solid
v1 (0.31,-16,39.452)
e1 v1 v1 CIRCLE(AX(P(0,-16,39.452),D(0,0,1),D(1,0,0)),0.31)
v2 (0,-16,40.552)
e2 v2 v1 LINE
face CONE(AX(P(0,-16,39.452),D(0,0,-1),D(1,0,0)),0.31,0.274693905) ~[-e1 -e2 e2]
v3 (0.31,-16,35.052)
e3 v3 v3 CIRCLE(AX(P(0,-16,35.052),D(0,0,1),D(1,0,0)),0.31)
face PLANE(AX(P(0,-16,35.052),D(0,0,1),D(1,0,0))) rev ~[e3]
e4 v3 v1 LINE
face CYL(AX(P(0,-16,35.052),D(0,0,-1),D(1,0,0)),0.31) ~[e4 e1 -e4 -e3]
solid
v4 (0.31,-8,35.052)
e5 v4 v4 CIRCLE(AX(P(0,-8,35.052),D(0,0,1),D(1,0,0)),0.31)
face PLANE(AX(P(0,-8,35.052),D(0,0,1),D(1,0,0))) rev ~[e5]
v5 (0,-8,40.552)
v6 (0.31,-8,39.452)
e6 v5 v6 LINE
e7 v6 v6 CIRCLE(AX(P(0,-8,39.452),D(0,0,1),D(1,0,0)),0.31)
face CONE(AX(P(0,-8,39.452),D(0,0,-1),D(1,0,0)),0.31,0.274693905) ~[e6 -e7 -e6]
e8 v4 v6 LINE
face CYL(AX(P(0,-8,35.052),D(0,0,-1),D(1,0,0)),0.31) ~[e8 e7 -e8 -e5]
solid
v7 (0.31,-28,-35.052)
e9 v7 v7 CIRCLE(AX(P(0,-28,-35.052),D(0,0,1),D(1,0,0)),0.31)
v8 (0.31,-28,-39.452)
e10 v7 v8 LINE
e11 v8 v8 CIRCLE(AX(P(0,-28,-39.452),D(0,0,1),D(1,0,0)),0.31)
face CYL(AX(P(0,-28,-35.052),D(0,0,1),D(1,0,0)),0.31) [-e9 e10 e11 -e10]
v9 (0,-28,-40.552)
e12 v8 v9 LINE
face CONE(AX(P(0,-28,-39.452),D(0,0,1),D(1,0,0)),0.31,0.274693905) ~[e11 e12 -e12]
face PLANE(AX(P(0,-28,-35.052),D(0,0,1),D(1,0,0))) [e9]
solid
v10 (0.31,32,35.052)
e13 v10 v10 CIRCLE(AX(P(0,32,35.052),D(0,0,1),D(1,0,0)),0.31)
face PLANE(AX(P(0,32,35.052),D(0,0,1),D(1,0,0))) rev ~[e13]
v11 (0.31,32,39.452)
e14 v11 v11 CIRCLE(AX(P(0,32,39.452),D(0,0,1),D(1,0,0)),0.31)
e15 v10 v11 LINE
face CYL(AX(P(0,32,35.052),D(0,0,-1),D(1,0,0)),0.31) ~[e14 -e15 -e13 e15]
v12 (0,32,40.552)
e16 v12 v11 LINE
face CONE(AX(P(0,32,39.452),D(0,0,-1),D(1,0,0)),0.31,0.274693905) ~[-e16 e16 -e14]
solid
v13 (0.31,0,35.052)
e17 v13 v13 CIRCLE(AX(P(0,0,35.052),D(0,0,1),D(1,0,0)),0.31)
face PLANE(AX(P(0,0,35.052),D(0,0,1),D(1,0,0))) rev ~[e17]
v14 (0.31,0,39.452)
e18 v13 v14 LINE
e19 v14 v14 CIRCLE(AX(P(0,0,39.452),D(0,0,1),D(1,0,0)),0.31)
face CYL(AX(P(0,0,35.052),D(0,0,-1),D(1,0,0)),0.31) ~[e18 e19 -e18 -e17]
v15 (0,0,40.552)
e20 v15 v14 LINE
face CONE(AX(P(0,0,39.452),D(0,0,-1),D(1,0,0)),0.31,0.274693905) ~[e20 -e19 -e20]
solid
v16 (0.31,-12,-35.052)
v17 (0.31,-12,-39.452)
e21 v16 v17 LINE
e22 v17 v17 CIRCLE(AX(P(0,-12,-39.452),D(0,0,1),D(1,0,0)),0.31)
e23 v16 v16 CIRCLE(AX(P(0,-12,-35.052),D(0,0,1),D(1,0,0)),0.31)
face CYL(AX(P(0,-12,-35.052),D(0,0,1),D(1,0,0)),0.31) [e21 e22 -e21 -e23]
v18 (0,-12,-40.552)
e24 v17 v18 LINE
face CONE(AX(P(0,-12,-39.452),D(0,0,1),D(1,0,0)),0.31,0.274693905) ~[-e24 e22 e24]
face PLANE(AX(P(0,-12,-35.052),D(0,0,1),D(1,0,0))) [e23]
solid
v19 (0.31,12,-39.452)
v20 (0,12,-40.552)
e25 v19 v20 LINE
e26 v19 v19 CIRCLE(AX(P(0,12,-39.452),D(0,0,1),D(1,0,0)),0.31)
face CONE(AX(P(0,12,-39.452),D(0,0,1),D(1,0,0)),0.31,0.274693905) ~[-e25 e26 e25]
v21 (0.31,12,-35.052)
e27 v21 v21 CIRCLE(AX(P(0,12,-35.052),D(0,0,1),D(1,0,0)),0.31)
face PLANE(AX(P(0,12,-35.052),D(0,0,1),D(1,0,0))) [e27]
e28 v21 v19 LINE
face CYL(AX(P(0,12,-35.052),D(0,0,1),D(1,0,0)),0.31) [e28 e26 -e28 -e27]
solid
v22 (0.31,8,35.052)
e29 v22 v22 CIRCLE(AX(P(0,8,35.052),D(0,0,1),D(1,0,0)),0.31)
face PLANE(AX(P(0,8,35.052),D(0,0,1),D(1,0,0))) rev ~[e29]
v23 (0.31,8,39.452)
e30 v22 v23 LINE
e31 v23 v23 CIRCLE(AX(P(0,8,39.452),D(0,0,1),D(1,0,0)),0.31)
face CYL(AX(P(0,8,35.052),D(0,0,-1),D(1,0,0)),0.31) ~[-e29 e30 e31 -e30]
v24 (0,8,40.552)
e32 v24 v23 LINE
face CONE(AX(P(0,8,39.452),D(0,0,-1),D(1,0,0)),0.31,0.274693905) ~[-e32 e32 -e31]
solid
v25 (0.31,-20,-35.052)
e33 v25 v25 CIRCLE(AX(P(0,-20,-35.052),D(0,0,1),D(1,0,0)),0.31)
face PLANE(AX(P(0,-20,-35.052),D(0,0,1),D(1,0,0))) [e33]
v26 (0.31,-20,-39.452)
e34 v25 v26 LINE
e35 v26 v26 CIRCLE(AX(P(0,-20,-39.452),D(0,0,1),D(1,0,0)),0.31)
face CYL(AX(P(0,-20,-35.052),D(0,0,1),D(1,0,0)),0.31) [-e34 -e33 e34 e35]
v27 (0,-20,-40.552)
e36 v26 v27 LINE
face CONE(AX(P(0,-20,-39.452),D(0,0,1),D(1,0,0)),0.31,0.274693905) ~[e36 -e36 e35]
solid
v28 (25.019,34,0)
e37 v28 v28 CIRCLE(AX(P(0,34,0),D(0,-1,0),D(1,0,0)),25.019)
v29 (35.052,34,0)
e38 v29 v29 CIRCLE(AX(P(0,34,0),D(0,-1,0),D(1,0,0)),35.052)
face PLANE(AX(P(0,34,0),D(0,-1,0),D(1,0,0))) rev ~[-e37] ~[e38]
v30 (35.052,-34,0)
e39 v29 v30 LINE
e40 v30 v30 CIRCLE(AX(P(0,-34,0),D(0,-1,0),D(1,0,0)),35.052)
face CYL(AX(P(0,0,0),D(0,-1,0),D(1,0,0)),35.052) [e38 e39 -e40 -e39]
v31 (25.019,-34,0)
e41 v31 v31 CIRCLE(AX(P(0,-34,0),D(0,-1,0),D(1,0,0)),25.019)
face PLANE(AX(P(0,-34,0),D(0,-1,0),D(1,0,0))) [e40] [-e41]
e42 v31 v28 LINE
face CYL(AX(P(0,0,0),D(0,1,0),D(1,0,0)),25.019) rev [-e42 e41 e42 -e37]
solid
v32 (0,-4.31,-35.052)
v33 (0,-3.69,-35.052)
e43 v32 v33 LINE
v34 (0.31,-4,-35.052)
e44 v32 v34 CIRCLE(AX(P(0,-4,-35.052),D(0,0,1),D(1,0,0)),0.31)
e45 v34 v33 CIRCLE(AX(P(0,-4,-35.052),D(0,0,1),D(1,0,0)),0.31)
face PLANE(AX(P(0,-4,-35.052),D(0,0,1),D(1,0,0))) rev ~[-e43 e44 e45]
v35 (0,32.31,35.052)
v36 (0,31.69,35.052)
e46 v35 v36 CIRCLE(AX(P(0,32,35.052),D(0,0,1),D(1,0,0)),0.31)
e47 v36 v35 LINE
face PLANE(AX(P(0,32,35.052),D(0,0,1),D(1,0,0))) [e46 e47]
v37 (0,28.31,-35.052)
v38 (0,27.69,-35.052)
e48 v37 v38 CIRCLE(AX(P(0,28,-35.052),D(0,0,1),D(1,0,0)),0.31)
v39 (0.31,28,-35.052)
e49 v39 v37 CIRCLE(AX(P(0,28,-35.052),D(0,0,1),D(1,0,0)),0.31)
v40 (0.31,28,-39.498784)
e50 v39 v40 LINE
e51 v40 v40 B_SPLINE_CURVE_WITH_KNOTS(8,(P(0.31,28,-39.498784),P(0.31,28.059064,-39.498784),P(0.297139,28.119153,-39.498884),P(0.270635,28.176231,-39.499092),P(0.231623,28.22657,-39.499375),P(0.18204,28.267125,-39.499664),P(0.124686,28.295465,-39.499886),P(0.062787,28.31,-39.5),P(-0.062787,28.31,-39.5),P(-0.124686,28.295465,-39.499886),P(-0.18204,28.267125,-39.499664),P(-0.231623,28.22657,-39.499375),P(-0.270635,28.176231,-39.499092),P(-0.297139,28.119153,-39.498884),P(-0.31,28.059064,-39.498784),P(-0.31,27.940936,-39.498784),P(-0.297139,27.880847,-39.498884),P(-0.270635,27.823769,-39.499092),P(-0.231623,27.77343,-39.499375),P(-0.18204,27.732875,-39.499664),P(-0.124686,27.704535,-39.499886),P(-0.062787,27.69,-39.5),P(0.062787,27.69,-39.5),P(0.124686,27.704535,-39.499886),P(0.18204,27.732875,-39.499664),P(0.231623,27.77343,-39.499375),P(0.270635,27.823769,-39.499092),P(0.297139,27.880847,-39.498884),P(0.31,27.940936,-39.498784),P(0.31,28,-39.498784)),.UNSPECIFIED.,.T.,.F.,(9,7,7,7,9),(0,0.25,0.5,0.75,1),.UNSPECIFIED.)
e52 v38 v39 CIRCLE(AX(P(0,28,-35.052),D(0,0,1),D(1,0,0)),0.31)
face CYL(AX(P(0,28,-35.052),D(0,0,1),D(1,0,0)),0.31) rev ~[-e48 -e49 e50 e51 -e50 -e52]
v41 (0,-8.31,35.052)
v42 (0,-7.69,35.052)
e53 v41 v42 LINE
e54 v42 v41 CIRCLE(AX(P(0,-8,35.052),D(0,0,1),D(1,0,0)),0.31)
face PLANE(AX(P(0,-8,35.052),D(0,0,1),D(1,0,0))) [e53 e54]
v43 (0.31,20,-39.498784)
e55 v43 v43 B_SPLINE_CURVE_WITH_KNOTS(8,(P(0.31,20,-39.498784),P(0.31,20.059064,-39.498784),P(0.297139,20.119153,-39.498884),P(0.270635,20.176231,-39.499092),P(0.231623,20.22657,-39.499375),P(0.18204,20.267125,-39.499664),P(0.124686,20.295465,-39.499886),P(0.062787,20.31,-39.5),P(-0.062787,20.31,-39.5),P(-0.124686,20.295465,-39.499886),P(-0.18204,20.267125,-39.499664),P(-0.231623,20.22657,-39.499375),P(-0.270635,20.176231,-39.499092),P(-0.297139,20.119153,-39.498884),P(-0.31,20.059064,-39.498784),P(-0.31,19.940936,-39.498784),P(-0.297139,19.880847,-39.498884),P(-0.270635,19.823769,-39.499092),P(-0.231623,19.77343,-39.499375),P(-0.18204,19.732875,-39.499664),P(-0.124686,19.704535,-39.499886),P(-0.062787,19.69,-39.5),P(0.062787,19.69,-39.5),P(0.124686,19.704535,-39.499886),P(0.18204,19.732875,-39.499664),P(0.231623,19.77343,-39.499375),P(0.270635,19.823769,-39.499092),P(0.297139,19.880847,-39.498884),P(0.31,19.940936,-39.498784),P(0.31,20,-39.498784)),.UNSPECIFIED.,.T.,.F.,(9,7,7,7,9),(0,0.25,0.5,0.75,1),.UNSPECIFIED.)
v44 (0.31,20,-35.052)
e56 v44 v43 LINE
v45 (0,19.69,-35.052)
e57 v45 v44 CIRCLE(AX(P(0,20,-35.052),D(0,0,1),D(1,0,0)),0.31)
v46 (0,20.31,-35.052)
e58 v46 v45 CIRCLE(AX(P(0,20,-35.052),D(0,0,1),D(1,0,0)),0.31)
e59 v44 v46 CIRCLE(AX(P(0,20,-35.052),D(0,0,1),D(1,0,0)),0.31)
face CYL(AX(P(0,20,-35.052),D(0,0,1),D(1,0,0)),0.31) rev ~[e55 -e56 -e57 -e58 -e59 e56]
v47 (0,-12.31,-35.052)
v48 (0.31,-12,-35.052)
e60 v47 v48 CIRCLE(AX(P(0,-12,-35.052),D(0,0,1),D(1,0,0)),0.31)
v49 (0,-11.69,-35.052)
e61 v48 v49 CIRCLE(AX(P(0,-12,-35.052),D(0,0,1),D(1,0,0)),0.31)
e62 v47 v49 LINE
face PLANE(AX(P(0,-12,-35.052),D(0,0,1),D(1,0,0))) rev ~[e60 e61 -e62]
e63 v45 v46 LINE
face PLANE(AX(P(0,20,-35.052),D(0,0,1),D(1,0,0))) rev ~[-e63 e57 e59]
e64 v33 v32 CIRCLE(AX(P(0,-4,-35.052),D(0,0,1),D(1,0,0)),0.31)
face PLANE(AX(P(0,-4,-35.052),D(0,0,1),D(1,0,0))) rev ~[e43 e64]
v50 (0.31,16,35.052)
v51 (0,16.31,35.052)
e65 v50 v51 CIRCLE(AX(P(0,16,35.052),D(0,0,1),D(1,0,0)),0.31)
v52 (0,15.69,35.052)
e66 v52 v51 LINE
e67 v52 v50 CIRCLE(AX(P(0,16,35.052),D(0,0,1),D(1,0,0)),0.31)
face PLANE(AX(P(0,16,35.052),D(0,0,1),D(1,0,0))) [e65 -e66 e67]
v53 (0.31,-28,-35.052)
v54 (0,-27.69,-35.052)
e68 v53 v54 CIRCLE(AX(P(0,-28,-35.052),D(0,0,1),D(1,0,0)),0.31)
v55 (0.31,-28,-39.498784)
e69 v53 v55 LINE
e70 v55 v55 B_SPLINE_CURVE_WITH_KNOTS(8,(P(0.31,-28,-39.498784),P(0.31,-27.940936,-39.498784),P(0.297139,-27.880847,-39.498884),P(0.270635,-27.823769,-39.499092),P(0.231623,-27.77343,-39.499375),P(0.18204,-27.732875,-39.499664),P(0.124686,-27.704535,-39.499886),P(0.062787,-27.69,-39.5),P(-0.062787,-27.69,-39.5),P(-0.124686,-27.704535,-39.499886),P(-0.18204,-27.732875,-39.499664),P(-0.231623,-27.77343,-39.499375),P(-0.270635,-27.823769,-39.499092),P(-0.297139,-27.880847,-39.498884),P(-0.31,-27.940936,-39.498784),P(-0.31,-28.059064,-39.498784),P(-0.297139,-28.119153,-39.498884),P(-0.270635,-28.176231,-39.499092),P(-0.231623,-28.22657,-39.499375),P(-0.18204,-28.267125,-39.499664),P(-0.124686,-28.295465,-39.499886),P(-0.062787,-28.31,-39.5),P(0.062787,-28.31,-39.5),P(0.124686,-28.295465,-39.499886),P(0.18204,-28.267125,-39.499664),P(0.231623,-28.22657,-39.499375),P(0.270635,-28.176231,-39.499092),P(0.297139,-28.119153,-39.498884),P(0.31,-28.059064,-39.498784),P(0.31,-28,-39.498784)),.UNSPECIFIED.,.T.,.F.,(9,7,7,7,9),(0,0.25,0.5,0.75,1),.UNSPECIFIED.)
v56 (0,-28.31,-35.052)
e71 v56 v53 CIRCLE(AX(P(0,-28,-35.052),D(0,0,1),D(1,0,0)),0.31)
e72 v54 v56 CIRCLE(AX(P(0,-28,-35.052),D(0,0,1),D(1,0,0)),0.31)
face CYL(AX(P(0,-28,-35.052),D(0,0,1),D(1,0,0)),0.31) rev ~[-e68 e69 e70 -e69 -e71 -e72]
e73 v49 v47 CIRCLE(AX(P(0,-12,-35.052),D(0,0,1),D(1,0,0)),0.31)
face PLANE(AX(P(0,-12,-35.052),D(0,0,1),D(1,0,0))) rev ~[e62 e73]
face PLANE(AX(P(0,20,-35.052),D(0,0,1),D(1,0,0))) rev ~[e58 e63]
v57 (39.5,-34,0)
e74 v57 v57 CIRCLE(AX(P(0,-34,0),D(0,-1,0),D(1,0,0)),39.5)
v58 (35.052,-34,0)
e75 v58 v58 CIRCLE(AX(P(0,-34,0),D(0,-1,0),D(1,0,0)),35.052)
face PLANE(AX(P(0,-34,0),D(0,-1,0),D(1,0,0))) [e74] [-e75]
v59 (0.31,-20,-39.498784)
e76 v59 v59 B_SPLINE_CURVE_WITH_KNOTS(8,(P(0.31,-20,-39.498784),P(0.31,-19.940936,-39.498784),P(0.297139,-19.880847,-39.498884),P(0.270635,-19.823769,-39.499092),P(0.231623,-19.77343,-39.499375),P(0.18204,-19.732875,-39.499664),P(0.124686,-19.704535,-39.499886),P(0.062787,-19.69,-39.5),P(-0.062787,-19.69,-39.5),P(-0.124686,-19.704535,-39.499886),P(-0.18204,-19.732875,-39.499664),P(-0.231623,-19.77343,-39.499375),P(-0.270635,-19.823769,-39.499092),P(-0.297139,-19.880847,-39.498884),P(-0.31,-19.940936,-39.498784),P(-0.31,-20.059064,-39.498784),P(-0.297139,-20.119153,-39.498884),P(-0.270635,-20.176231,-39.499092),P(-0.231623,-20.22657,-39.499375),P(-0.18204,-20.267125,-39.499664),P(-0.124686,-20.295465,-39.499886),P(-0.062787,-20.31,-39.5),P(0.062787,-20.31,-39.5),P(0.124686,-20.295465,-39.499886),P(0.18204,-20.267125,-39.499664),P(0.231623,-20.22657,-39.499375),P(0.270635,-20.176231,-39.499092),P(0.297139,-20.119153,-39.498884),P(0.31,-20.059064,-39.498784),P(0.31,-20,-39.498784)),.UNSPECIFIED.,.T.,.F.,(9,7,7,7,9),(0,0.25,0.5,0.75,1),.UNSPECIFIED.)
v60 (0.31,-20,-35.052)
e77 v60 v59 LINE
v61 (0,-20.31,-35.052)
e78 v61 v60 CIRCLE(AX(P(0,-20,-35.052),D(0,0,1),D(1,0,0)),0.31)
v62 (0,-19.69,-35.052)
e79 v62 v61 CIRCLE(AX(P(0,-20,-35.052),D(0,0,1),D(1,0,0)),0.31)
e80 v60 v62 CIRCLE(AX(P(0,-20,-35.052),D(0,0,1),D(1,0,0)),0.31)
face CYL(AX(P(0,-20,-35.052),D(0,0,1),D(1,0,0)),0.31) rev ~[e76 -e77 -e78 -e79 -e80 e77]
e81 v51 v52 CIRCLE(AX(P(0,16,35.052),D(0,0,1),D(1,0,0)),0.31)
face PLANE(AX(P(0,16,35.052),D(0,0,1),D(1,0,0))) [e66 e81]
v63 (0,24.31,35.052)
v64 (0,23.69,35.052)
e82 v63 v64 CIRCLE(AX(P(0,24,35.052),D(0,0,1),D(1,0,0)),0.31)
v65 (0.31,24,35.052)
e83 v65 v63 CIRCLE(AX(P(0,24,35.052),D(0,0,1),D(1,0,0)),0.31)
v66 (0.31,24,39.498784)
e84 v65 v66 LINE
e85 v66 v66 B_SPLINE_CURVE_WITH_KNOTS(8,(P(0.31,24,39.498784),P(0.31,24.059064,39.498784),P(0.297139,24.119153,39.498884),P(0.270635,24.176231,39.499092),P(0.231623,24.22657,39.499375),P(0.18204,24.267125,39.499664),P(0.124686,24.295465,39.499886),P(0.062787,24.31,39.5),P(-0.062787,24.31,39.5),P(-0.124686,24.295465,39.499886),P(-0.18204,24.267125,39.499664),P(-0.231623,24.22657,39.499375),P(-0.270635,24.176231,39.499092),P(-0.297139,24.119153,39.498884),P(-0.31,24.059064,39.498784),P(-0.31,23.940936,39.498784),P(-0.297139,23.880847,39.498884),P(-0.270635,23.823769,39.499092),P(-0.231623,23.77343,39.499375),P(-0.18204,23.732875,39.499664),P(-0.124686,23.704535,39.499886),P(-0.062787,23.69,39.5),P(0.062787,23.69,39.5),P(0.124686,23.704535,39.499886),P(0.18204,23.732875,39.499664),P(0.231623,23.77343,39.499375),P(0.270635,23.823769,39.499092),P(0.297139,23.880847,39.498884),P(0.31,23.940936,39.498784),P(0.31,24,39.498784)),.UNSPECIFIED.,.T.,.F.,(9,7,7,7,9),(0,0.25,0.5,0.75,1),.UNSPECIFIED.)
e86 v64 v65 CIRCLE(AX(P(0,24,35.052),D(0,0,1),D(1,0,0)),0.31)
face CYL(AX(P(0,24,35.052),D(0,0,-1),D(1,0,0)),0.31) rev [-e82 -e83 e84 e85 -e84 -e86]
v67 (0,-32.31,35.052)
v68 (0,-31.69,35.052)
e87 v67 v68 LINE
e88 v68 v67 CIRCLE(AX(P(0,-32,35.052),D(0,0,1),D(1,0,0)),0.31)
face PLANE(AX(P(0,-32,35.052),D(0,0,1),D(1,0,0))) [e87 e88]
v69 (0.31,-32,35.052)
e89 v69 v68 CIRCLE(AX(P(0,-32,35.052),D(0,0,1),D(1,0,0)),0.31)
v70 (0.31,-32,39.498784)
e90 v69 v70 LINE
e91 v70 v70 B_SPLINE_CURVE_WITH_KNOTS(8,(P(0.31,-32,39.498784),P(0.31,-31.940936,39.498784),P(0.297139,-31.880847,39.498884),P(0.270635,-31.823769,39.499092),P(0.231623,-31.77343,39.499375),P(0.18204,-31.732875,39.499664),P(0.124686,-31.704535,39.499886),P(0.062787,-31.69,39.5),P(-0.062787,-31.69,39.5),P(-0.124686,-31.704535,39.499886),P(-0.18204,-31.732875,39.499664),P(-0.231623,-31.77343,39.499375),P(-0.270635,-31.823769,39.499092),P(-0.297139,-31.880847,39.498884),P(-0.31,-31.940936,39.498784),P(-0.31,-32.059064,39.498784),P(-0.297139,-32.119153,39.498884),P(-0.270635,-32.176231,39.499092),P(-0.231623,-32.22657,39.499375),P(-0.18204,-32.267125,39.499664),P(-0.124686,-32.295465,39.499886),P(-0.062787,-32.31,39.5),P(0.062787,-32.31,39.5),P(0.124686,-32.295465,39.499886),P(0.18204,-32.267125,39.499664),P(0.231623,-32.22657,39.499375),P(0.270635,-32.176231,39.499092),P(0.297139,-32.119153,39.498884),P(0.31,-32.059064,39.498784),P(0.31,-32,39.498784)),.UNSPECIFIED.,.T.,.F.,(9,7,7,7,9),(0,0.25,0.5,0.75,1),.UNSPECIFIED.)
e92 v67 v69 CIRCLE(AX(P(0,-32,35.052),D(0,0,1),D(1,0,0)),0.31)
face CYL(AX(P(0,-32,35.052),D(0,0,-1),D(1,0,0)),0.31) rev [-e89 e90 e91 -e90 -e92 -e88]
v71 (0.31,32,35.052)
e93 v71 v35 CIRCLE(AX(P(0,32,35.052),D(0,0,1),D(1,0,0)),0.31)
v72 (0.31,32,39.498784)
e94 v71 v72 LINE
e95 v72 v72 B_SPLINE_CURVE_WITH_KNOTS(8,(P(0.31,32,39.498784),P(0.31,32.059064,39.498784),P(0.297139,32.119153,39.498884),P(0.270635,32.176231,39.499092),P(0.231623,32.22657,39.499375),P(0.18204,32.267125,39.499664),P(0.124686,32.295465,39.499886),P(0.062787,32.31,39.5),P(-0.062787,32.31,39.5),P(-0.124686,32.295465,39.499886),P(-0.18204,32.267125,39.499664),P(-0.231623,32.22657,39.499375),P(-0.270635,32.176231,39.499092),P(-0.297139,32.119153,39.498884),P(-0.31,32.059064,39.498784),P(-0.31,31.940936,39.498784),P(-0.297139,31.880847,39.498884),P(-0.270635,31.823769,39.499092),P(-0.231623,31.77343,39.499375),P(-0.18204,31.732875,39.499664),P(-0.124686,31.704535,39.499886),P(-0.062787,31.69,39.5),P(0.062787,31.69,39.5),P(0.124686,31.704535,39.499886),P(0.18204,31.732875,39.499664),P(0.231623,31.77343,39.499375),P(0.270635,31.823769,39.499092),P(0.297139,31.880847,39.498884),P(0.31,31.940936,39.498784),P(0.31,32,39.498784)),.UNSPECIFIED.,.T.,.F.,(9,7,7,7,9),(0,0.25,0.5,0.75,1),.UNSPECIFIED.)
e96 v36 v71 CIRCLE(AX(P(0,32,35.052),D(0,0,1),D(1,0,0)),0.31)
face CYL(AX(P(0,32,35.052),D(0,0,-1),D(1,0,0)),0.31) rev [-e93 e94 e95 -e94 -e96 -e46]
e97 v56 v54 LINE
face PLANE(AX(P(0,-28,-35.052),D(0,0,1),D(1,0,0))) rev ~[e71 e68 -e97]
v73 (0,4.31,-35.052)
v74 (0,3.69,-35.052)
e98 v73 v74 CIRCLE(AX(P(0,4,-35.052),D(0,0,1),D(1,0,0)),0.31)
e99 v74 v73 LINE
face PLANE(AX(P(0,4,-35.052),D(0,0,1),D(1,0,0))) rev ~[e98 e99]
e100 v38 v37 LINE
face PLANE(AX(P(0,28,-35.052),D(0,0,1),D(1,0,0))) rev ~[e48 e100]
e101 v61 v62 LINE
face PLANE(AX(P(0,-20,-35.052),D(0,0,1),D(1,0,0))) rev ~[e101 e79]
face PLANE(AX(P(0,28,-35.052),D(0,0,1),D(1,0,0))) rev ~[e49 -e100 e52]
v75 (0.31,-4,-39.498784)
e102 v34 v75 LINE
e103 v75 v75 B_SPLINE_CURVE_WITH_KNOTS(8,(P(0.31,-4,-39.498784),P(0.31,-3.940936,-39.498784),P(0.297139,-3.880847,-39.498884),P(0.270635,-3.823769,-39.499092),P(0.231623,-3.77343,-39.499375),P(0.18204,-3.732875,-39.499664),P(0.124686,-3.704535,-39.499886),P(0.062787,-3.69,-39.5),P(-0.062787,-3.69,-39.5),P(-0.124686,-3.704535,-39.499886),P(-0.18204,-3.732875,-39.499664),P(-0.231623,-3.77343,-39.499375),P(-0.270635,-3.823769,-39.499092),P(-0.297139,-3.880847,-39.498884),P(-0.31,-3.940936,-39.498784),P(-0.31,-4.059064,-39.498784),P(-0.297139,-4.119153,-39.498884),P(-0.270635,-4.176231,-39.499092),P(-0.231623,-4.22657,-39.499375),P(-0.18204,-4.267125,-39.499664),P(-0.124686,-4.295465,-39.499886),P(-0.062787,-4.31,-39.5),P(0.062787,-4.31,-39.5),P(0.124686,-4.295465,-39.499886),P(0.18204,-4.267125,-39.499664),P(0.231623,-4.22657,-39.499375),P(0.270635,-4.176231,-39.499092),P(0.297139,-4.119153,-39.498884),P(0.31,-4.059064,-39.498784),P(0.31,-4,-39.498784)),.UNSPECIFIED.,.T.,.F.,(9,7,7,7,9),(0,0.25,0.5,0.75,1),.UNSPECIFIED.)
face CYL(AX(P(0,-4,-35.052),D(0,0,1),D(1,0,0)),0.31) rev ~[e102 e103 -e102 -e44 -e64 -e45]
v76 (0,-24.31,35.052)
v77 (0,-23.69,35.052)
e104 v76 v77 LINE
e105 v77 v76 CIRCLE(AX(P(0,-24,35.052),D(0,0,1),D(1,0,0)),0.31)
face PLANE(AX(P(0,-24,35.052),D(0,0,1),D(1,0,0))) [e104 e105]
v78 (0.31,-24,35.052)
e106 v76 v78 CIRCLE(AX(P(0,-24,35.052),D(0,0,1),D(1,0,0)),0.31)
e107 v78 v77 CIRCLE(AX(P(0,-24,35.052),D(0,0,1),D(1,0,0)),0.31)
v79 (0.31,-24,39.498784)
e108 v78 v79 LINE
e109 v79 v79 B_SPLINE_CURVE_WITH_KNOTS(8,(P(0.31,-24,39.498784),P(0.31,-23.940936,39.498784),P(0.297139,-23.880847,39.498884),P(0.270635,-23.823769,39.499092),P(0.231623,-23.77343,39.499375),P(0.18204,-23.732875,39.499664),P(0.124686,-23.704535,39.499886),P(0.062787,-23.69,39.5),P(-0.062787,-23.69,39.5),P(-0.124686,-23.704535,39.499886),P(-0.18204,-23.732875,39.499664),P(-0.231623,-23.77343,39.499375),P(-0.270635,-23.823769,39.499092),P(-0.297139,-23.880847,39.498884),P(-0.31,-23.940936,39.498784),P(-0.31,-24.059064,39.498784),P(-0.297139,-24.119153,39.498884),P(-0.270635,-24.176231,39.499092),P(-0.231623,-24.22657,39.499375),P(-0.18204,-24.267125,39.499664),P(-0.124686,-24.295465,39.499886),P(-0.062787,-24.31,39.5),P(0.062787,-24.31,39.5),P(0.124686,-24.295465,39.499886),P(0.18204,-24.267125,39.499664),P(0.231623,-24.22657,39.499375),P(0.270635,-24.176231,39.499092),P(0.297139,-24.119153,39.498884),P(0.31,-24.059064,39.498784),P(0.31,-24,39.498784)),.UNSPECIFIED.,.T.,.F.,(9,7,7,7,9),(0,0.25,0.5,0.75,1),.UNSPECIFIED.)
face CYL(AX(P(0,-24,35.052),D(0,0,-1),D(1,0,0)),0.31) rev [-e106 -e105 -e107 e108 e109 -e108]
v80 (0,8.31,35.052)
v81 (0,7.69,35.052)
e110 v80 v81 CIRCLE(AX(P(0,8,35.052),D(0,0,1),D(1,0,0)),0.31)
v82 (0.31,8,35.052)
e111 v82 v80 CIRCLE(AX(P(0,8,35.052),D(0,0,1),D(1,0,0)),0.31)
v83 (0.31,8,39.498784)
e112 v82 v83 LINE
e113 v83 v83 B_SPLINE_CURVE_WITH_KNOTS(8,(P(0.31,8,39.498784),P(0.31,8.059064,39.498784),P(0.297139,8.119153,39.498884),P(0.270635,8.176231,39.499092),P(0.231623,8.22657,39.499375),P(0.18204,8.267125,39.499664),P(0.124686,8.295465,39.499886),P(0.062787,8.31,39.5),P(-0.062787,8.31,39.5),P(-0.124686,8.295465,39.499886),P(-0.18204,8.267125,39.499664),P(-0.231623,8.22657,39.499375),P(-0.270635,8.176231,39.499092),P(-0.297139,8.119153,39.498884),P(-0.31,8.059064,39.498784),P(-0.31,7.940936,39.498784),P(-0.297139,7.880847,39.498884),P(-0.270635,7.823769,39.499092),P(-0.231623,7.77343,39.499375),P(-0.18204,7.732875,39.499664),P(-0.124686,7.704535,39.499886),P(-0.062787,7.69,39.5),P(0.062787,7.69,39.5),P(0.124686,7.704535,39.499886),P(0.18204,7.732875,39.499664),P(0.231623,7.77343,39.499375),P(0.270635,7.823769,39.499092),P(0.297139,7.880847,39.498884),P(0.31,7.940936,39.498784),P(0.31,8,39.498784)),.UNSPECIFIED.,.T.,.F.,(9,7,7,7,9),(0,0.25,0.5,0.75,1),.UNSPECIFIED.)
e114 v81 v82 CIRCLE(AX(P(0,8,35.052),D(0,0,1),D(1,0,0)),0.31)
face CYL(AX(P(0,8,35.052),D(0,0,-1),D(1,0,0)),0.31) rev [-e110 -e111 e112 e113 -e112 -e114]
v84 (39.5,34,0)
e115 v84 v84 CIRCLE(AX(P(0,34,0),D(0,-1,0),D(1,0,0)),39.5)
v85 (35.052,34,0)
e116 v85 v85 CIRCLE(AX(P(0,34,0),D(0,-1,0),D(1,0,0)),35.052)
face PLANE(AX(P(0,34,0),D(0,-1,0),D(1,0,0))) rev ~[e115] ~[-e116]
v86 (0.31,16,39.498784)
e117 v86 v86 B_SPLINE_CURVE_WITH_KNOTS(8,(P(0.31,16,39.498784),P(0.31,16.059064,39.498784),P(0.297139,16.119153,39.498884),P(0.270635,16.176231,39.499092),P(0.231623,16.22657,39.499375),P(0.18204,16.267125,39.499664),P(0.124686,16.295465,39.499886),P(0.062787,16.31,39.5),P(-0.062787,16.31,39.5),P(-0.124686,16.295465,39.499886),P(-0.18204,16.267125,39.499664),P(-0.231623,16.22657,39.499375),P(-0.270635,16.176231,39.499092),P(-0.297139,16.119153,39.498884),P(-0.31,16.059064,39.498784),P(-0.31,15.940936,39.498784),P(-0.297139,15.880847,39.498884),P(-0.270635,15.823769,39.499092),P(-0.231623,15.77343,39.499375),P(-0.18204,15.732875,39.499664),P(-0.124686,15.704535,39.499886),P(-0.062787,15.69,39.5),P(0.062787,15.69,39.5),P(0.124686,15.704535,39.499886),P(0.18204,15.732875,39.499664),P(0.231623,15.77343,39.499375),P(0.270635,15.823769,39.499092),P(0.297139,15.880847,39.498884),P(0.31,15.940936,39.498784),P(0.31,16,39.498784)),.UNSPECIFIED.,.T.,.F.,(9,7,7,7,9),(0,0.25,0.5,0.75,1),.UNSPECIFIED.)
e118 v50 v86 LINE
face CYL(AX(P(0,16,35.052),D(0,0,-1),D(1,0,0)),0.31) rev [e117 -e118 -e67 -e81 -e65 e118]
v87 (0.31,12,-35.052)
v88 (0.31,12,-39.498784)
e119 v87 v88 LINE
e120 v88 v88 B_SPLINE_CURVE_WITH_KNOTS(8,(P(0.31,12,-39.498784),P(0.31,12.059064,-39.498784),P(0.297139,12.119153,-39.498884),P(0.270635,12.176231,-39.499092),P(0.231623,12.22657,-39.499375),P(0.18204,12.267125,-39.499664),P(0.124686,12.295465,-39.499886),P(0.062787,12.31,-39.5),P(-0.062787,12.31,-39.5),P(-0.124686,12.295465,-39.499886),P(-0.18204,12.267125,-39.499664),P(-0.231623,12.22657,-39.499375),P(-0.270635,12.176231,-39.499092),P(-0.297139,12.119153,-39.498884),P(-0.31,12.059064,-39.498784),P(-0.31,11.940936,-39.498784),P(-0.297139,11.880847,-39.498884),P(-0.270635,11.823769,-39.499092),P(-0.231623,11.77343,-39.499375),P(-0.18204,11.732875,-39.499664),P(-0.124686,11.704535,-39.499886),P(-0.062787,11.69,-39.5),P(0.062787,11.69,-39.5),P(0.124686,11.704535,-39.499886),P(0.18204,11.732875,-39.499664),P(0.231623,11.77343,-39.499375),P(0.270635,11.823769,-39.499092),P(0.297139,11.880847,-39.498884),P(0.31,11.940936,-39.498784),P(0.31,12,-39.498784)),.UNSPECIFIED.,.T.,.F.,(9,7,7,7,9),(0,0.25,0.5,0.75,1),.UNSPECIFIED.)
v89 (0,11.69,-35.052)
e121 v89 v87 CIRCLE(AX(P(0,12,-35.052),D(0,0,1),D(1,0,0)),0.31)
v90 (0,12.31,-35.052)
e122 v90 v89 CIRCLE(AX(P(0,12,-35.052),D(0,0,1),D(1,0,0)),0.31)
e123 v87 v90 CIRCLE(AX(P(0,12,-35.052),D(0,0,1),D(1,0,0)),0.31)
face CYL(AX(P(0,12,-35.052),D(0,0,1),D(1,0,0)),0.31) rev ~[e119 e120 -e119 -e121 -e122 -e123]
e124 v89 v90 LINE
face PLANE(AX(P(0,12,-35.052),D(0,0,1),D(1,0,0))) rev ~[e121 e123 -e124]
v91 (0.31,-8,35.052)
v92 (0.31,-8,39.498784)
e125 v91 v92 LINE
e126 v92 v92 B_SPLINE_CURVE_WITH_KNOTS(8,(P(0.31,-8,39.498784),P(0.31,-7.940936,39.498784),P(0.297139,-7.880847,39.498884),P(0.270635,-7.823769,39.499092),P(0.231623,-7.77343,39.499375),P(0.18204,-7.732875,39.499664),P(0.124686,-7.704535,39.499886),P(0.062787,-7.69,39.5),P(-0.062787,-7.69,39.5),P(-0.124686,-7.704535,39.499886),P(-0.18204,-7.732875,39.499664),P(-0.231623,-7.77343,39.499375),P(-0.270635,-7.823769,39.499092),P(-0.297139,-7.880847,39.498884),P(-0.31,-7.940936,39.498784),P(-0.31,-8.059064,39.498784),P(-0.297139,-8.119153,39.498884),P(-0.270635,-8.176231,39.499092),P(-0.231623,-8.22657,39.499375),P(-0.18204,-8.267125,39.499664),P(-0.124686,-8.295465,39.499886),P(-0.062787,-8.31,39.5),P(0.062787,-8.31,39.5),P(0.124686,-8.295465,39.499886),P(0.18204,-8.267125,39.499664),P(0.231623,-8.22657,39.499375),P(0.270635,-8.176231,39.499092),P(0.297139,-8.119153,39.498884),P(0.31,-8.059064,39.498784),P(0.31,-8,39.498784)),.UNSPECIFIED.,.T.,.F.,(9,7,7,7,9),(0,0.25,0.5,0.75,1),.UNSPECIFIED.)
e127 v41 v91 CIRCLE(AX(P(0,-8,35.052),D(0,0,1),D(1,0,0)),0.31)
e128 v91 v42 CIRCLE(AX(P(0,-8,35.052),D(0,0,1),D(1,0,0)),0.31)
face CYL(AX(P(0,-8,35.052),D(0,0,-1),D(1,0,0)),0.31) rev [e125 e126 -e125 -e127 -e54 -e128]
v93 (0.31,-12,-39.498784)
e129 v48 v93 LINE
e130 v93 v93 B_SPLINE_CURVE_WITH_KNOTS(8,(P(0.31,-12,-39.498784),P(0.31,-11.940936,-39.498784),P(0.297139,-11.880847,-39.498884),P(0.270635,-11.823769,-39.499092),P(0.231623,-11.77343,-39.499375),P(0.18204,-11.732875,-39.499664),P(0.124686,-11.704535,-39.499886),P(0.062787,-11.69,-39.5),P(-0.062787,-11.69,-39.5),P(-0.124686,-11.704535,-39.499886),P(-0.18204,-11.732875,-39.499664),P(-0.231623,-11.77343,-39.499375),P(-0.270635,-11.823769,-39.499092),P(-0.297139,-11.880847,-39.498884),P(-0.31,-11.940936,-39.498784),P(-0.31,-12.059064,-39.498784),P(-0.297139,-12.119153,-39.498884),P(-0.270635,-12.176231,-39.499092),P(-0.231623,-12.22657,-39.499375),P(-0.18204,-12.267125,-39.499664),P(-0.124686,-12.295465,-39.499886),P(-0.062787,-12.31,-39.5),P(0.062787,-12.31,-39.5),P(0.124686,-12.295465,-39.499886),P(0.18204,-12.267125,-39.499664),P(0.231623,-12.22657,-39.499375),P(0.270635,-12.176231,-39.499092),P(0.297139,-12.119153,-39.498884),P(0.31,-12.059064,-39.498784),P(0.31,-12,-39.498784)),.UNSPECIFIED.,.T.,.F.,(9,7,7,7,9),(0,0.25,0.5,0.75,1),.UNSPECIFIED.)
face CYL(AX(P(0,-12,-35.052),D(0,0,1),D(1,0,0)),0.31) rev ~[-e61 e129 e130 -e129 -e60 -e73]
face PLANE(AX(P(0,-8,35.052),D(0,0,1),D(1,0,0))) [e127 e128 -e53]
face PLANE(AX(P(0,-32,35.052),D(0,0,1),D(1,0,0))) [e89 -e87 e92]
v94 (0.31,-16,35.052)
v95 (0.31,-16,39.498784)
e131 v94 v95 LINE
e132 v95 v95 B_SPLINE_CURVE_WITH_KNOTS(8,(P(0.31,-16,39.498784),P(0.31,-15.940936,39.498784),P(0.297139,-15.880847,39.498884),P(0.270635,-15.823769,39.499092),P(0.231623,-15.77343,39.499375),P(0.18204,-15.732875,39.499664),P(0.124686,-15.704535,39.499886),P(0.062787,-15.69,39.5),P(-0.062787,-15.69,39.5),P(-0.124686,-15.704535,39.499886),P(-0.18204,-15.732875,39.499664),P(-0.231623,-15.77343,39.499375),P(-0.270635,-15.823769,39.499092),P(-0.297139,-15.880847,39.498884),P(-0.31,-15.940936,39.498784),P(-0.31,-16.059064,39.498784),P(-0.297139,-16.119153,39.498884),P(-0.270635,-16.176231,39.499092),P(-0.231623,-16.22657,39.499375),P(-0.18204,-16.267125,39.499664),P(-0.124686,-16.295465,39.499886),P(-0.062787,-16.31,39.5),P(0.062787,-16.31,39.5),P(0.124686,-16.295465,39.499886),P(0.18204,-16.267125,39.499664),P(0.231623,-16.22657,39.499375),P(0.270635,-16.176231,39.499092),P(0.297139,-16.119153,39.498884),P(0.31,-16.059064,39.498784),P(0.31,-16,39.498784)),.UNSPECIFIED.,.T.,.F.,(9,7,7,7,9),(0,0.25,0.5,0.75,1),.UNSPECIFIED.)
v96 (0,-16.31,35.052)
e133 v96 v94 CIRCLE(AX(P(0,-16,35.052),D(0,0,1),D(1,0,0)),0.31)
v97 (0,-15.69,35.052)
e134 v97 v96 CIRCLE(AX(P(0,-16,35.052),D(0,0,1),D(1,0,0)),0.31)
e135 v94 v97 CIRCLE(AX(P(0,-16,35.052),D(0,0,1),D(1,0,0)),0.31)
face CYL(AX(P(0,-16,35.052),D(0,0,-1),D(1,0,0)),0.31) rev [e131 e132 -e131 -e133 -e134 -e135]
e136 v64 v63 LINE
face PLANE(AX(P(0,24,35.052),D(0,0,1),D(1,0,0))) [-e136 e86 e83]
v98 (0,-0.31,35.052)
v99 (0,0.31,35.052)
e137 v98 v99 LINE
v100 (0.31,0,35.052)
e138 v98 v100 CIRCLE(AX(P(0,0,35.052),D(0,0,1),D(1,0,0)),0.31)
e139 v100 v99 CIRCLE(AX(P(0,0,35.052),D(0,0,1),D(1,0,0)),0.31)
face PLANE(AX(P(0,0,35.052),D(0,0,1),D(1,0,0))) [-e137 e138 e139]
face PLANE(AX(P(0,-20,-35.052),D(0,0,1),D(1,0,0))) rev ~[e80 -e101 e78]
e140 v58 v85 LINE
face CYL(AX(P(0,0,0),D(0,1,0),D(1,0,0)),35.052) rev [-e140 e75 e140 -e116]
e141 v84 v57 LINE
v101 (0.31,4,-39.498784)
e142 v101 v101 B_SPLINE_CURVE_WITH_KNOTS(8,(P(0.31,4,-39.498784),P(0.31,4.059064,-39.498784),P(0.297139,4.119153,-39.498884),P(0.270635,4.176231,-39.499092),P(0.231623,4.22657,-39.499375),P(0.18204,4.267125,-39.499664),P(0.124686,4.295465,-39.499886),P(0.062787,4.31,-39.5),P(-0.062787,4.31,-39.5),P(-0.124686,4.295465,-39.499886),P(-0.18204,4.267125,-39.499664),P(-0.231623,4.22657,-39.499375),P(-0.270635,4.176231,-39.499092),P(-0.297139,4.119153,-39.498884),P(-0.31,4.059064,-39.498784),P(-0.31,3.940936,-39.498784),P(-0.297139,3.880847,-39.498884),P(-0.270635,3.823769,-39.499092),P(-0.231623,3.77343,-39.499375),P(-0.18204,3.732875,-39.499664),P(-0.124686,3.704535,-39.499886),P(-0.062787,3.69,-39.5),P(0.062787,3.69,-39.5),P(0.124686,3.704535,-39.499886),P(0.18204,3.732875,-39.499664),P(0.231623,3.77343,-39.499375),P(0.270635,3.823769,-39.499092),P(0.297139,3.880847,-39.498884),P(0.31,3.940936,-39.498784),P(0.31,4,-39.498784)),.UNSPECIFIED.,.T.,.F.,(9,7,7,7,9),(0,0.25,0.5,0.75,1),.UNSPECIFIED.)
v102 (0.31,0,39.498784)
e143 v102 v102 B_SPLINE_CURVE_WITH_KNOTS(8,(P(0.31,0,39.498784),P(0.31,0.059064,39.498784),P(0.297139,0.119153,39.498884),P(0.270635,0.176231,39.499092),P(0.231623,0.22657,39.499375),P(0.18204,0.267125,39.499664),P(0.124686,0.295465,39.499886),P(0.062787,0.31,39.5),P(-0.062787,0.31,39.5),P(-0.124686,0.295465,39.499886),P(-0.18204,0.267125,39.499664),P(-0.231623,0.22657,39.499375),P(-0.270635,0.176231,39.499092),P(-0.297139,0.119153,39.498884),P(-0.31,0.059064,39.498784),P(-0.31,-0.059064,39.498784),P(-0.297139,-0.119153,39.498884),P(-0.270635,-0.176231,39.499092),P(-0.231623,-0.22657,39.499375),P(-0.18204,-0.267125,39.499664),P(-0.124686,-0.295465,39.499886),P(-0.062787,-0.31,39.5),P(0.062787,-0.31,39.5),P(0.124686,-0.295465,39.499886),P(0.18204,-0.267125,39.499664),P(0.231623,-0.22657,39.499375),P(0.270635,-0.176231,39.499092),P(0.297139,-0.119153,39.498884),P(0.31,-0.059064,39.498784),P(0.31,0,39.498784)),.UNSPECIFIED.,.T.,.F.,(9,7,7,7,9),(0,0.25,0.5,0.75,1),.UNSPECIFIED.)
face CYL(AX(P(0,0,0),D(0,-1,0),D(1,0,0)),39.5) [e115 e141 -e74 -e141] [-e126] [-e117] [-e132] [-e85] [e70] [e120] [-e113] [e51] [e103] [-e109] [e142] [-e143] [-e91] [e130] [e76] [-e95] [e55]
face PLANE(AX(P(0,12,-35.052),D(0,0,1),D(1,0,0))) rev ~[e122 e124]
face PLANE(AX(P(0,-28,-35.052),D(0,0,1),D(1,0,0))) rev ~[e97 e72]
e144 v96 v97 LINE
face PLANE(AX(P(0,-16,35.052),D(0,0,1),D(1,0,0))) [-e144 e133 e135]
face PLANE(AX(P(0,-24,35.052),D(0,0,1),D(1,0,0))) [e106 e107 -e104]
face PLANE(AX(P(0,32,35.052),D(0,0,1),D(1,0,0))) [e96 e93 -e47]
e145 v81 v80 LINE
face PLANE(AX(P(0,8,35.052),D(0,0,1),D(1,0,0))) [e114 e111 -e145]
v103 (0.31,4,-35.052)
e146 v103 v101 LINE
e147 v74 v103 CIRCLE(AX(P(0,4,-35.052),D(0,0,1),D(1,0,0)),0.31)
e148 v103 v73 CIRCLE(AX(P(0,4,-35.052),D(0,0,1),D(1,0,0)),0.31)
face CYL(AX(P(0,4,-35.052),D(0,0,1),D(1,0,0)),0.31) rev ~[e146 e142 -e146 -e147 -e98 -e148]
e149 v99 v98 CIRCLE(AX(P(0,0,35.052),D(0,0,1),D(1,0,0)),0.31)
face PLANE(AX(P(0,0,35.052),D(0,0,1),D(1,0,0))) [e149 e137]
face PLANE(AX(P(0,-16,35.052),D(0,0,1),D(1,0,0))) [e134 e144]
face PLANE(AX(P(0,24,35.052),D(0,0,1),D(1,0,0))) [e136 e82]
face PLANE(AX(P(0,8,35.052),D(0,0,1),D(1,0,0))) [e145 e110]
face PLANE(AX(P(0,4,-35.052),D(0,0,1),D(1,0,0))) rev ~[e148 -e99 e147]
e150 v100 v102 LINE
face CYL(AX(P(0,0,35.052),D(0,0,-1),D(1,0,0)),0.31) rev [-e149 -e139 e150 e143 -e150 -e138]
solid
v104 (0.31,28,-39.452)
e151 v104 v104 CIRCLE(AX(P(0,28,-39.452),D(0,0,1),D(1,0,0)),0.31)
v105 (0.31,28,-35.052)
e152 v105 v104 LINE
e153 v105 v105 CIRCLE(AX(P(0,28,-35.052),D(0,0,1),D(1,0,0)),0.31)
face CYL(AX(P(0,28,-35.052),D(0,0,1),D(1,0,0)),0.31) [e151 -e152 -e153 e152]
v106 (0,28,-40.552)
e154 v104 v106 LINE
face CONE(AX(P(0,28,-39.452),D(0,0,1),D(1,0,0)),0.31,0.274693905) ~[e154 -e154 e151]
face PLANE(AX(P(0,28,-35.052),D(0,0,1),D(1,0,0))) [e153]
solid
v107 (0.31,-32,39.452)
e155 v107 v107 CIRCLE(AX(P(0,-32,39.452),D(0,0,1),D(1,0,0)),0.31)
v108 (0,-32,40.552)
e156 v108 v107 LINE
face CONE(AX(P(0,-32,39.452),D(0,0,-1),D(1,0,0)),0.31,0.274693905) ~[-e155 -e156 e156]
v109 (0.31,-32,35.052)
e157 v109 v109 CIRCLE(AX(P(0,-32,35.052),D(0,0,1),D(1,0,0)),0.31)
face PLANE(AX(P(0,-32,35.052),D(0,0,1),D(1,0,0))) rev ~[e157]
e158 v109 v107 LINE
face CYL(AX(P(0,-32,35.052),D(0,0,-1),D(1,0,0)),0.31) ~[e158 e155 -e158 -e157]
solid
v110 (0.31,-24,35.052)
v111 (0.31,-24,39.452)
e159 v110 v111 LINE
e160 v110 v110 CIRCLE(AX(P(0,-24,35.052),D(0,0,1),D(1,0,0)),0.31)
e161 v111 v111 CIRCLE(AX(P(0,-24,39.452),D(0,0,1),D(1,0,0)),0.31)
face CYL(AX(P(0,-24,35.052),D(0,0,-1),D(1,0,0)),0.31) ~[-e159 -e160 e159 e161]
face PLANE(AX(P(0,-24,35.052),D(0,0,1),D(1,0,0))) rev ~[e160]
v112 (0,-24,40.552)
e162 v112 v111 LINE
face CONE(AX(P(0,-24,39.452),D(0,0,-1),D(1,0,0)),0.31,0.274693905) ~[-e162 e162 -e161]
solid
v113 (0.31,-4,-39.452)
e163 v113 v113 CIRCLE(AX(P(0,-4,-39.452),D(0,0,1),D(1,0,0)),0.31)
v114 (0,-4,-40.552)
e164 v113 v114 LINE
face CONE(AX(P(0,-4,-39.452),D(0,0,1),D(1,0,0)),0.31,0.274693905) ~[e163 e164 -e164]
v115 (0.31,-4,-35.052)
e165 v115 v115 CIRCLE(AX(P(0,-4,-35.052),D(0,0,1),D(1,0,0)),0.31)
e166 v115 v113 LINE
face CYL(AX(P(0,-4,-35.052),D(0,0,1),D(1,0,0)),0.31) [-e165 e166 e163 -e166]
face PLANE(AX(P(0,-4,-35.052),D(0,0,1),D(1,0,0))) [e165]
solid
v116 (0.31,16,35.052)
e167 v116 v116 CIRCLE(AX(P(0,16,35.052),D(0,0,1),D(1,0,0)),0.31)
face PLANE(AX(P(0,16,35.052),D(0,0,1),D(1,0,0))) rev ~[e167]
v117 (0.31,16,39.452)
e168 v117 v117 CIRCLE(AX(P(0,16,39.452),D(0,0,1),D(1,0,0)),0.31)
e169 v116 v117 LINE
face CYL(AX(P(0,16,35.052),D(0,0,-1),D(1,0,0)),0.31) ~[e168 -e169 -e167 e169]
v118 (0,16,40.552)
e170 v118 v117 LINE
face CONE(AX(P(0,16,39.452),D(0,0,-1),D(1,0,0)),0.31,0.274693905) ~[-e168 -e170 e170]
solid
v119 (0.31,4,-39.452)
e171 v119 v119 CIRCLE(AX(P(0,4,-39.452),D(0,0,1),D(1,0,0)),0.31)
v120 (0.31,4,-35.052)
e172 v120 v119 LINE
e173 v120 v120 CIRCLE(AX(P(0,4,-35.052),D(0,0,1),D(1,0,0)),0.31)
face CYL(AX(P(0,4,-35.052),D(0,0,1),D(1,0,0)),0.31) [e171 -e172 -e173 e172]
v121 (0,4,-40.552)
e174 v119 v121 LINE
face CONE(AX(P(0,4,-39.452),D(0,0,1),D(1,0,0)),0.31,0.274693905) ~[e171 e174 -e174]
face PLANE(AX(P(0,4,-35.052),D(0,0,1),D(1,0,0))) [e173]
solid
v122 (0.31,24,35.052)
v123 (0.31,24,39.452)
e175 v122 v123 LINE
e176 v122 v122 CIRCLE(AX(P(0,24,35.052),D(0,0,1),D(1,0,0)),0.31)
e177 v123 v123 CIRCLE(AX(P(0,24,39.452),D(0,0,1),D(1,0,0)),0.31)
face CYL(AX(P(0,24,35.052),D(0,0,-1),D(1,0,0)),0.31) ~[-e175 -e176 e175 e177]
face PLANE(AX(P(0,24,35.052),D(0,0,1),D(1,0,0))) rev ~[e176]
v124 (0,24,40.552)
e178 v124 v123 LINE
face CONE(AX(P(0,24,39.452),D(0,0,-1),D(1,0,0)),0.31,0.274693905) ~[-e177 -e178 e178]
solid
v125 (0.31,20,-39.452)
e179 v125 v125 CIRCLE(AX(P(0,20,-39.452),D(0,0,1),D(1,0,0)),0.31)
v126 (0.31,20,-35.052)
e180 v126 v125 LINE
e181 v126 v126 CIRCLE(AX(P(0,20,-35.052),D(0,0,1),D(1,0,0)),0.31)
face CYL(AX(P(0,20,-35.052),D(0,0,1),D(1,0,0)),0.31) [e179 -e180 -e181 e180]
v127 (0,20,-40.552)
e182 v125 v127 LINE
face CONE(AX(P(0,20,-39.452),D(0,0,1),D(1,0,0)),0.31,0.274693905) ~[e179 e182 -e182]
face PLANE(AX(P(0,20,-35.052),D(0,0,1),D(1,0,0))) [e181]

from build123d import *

# Parameters (mm, degrees)
F0_R        = 35.052
F0_R_2      = 25.019
F1_DEPTH    = 34
F2_R        = 39.5
F2_R_2      = 35.052
F3_DEPTH    = 34
F5_R        = 0.31
F6_DEPTH    = 25.4
F7_DEPTH    = 5.5
F8_SIZE2    = 1.1
F8_SIZE     = 0.31
F8_2_SIZE2  = 1.1
F8_2_SIZE   = 0.31
F8_3_SIZE2  = 1.1
F8_3_SIZE   = 0.31
F8_4_SIZE2  = 1.1
F8_4_SIZE   = 0.31
F8_5_SIZE2  = 1.1
F8_5_SIZE   = 0.31
F8_6_SIZE2  = 1.1
F8_6_SIZE   = 0.31
F8_7_SIZE2  = 1.1
F8_7_SIZE   = 0.31
F8_8_SIZE2  = 1.1
F8_8_SIZE   = 0.31
F8_9_SIZE2  = 1.1
F8_9_SIZE   = 0.31
F10_R       = 0.31
F11_DEPTH   = 25.4
F12_DEPTH   = 5.5
F13_SIZE2   = 0.31
F13_SIZE    = 1.1
F13_2_SIZE2 = 0.31
F13_2_SIZE  = 1.1
F13_3_SIZE2 = 0.31
F13_3_SIZE  = 1.1
F13_4_SIZE2 = 0.31
F13_4_SIZE  = 1.1
F13_5_SIZE2 = 0.31
F13_5_SIZE  = 1.1
F13_6_SIZE2 = 0.31
F13_6_SIZE  = 1.1
F13_7_SIZE2 = 0.31
F13_7_SIZE  = 1.1
F13_8_SIZE2 = 0.31
F13_8_SIZE  = 1.1


with BuildPart() as f1:
    # F0 (on Front) → F1 (new body, symmetric)
    with BuildSketch(Plane.XZ):
        Circle(F0_R)
        Circle(F0_R_2, mode=Mode.SUBTRACT)
    extrude(amount=F1_DEPTH, both=True)


with BuildPart() as f3:
    # F2 (on Front) → F3 (new body, symmetric)
    with BuildSketch(Plane.XZ):
        Circle(F2_R)
        Circle(F2_R_2, mode=Mode.SUBTRACT)
    extrude(amount=F3_DEPTH, both=True)

    # F5 (on offset) → F6 (cut)
    with BuildSketch(Plane.XY.offset(35.052)):
        Circle(F5_R)
        with Locations((0, 8)):
            Circle(F5_R)
        with Locations((0, 16)):
            Circle(F5_R)
        with Locations((0, 24)):
            Circle(F5_R)
        with Locations((0, 32)):
            Circle(F5_R)
        with Locations((0, -8)):
            Circle(F5_R)
        with Locations((0, -16)):
            Circle(F5_R)
        with Locations((0, -24)):
            Circle(F5_R)
        with Locations((0, -32)):
            Circle(F5_R)
    extrude(amount=F6_DEPTH, mode=Mode.SUBTRACT)

    # F10 (on offset) → F11 (cut)
    with BuildSketch(Plane.XY.offset(-35.052)):
        with Locations((0, -4)):
            Circle(F10_R)
        with Locations((0, 4)):
            Circle(F10_R)
        with Locations((0, -12)):
            Circle(F10_R)
        with Locations((0, -20)):
            Circle(F10_R)
        with Locations((0, -28)):
            Circle(F10_R)
        with Locations((0, 12)):
            Circle(F10_R)
        with Locations((0, 20)):
            Circle(F10_R)
        with Locations((0, 28)):
            Circle(F10_R)
    extrude(amount=-F11_DEPTH, mode=Mode.SUBTRACT)


with BuildPart() as f7:
    # F5 (on offset) → F7 (new body)
    with BuildSketch(Plane.XY.offset(35.052)):
        Circle(F5_R)
    extrude(amount=F7_DEPTH)

    # F8#5
    f8_5_edges = [f7.edges().sort_by_distance(p)[0] for p in [
        (-0.31, 0, 40.552),
    ]]
    f8_5_side = f7.faces().sort_by_distance((0, 0, 40.552))[0]
    chamfer(f8_5_edges, length=F8_5_SIZE, length2=F8_5_SIZE2, reference=f8_5_side)


with BuildPart() as f7b:
    # F5 (on offset) → F7, piece 2 (new body)
    with BuildSketch(Plane.XY.offset(35.052)):
        with Locations((0, 8)):
            Circle(F5_R)
    extrude(amount=F7_DEPTH)

    # F8#6
    f8_6_edges = [f7b.edges().sort_by_distance(p)[0] for p in [
        (-0.31, 8, 40.552),
    ]]
    f8_6_side = f7b.faces().sort_by_distance((0, 8, 40.552))[0]
    chamfer(f8_6_edges, length=F8_6_SIZE, length2=F8_6_SIZE2, reference=f8_6_side)


with BuildPart() as f7c:
    # F5 (on offset) → F7, piece 3 (new body)
    with BuildSketch(Plane.XY.offset(35.052)):
        with Locations((0, 16)):
            Circle(F5_R)
    extrude(amount=F7_DEPTH)

    # F8#7
    f8_7_edges = [f7c.edges().sort_by_distance(p)[0] for p in [
        (-0.31, 16, 40.552),
    ]]
    f8_7_side = f7c.faces().sort_by_distance((0, 16, 40.552))[0]
    chamfer(f8_7_edges, length=F8_7_SIZE, length2=F8_7_SIZE2, reference=f8_7_side)


with BuildPart() as f7d:
    # F5 (on offset) → F7, piece 4 (new body)
    with BuildSketch(Plane.XY.offset(35.052)):
        with Locations((0, 24)):
            Circle(F5_R)
    extrude(amount=F7_DEPTH)

    # F8#8
    f8_8_edges = [f7d.edges().sort_by_distance(p)[0] for p in [
        (-0.31, 24, 40.552),
    ]]
    f8_8_side = f7d.faces().sort_by_distance((0, 24, 40.552))[0]
    chamfer(f8_8_edges, length=F8_8_SIZE, length2=F8_8_SIZE2, reference=f8_8_side)


with BuildPart() as f7e:
    # F5 (on offset) → F7, piece 5 (new body)
    with BuildSketch(Plane.XY.offset(35.052)):
        with Locations((0, 32)):
            Circle(F5_R)
    extrude(amount=F7_DEPTH)

    # F8#9
    f8_9_edges = [f7e.edges().sort_by_distance(p)[0] for p in [
        (-0.31, 32, 40.552),
    ]]
    f8_9_side = f7e.faces().sort_by_distance((0, 32, 40.552))[0]
    chamfer(f8_9_edges, length=F8_9_SIZE, length2=F8_9_SIZE2, reference=f8_9_side)


with BuildPart() as f7f:
    # F5 (on offset) → F7, piece 6 (new body)
    with BuildSketch(Plane.XY.offset(35.052)):
        with Locations((0, -8)):
            Circle(F5_R)
    extrude(amount=F7_DEPTH)

    # F8#4
    f8_4_edges = [f7f.edges().sort_by_distance(p)[0] for p in [
        (-0.31, -8, 40.552),
    ]]
    f8_4_side = f7f.faces().sort_by_distance((0, -8, 40.552))[0]
    chamfer(f8_4_edges, length=F8_4_SIZE, length2=F8_4_SIZE2, reference=f8_4_side)


with BuildPart() as f7g:
    # F5 (on offset) → F7, piece 7 (new body)
    with BuildSketch(Plane.XY.offset(35.052)):
        with Locations((0, -16)):
            Circle(F5_R)
    extrude(amount=F7_DEPTH)

    # F8#3
    f8_3_edges = [f7g.edges().sort_by_distance(p)[0] for p in [
        (-0.31, -16, 40.552),
    ]]
    f8_3_side = f7g.faces().sort_by_distance((0, -16, 40.552))[0]
    chamfer(f8_3_edges, length=F8_3_SIZE, length2=F8_3_SIZE2, reference=f8_3_side)


with BuildPart() as f7h:
    # F5 (on offset) → F7, piece 8 (new body)
    with BuildSketch(Plane.XY.offset(35.052)):
        with Locations((0, -24)):
            Circle(F5_R)
    extrude(amount=F7_DEPTH)

    # F8#2
    f8_2_edges = [f7h.edges().sort_by_distance(p)[0] for p in [
        (-0.31, -24, 40.552),
    ]]
    f8_2_side = f7h.faces().sort_by_distance((0, -24, 40.552))[0]
    chamfer(f8_2_edges, length=F8_2_SIZE, length2=F8_2_SIZE2, reference=f8_2_side)


with BuildPart() as f7i:
    # F5 (on offset) → F7, piece 9 (new body)
    with BuildSketch(Plane.XY.offset(35.052)):
        with Locations((0, -32)):
            Circle(F5_R)
    extrude(amount=F7_DEPTH)

    # F8
    f8_edges = [f7i.edges().sort_by_distance(p)[0] for p in [
        (-0.31, -32, 40.552),
    ]]
    f8_side = f7i.faces().sort_by_distance((0, -32, 40.552))[0]
    chamfer(f8_edges, length=F8_SIZE, length2=F8_SIZE2, reference=f8_side)


with BuildPart() as f12:
    # F10 (on offset) → F12 (new body)
    with BuildSketch(Plane.XY.offset(-35.052)):
        with Locations((0, -4)):
            Circle(F10_R)
    extrude(amount=-F12_DEPTH)

    # F13#4
    f13_4_edges = [f12.edges().sort_by_distance(p)[0] for p in [
        (-0.31, -4, -40.552),
    ]]
    f13_4_side = f12.faces().sort_by_distance((-0.31, -4, -37.802))[0]
    chamfer(f13_4_edges, length=F13_4_SIZE, length2=F13_4_SIZE2, reference=f13_4_side)


with BuildPart() as f12b:
    # F10 (on offset) → F12, piece 2 (new body)
    with BuildSketch(Plane.XY.offset(-35.052)):
        with Locations((0, 4)):
            Circle(F10_R)
    extrude(amount=-F12_DEPTH)

    # F13#5
    f13_5_edges = [f12b.edges().sort_by_distance(p)[0] for p in [
        (-0.31, 4, -40.552),
    ]]
    f13_5_side = f12b.faces().sort_by_distance((-0.31, 4, -37.802))[0]
    chamfer(f13_5_edges, length=F13_5_SIZE, length2=F13_5_SIZE2, reference=f13_5_side)


with BuildPart() as f12c:
    # F10 (on offset) → F12, piece 3 (new body)
    with BuildSketch(Plane.XY.offset(-35.052)):
        with Locations((0, -12)):
            Circle(F10_R)
    extrude(amount=-F12_DEPTH)

    # F13#3
    f13_3_edges = [f12c.edges().sort_by_distance(p)[0] for p in [
        (-0.31, -12, -40.552),
    ]]
    f13_3_side = f12c.faces().sort_by_distance((-0.31, -12, -37.802))[0]
    chamfer(f13_3_edges, length=F13_3_SIZE, length2=F13_3_SIZE2, reference=f13_3_side)


with BuildPart() as f12d:
    # F10 (on offset) → F12, piece 4 (new body)
    with BuildSketch(Plane.XY.offset(-35.052)):
        with Locations((0, -20)):
            Circle(F10_R)
    extrude(amount=-F12_DEPTH)

    # F13#2
    f13_2_edges = [f12d.edges().sort_by_distance(p)[0] for p in [
        (-0.31, -20, -40.552),
    ]]
    f13_2_side = f12d.faces().sort_by_distance((-0.31, -20, -37.802))[0]
    chamfer(f13_2_edges, length=F13_2_SIZE, length2=F13_2_SIZE2, reference=f13_2_side)


with BuildPart() as f12e:
    # F10 (on offset) → F12, piece 5 (new body)
    with BuildSketch(Plane.XY.offset(-35.052)):
        with Locations((0, -28)):
            Circle(F10_R)
    extrude(amount=-F12_DEPTH)

    # F13
    f13_edges = [f12e.edges().sort_by_distance(p)[0] for p in [
        (-0.31, -28, -40.552),
    ]]
    f13_side = f12e.faces().sort_by_distance((-0.31, -28, -37.802))[0]
    chamfer(f13_edges, length=F13_SIZE, length2=F13_SIZE2, reference=f13_side)


with BuildPart() as f12f:
    # F10 (on offset) → F12, piece 6 (new body)
    with BuildSketch(Plane.XY.offset(-35.052)):
        with Locations((0, 12)):
            Circle(F10_R)
    extrude(amount=-F12_DEPTH)

    # F13#6
    f13_6_edges = [f12f.edges().sort_by_distance(p)[0] for p in [
        (-0.31, 12, -40.552),
    ]]
    f13_6_side = f12f.faces().sort_by_distance((-0.31, 12, -37.802))[0]
    chamfer(f13_6_edges, length=F13_6_SIZE, length2=F13_6_SIZE2, reference=f13_6_side)


with BuildPart() as f12g:
    # F10 (on offset) → F12, piece 7 (new body)
    with BuildSketch(Plane.XY.offset(-35.052)):
        with Locations((0, 20)):
            Circle(F10_R)
    extrude(amount=-F12_DEPTH)

    # F13#7
    f13_7_edges = [f12g.edges().sort_by_distance(p)[0] for p in [
        (-0.31, 20, -40.552),
    ]]
    f13_7_side = f12g.faces().sort_by_distance((-0.31, 20, -37.802))[0]
    chamfer(f13_7_edges, length=F13_7_SIZE, length2=F13_7_SIZE2, reference=f13_7_side)


with BuildPart() as f12h:
    # F10 (on offset) → F12, piece 8 (new body)
    with BuildSketch(Plane.XY.offset(-35.052)):
        with Locations((0, 28)):
            Circle(F10_R)
    extrude(amount=-F12_DEPTH)

    # F13#8
    f13_8_edges = [f12h.edges().sort_by_distance(p)[0] for p in [
        (-0.31, 28, -40.552),
    ]]
    f13_8_side = f12h.faces().sort_by_distance((-0.31, 28, -37.802))[0]
    chamfer(f13_8_edges, length=F13_8_SIZE, length2=F13_8_SIZE2, reference=f13_8_side)


solid = Compound([f1.part, f3.part, f7.part, f7b.part, f7c.part, f7d.part, f7e.part, f7f.part, f7g.part, f7h.part, f7i.part, f12.part, f12b.part, f12c.part, f12d.part, f12e.part, f12f.part, f12g.part, f12h.part])
